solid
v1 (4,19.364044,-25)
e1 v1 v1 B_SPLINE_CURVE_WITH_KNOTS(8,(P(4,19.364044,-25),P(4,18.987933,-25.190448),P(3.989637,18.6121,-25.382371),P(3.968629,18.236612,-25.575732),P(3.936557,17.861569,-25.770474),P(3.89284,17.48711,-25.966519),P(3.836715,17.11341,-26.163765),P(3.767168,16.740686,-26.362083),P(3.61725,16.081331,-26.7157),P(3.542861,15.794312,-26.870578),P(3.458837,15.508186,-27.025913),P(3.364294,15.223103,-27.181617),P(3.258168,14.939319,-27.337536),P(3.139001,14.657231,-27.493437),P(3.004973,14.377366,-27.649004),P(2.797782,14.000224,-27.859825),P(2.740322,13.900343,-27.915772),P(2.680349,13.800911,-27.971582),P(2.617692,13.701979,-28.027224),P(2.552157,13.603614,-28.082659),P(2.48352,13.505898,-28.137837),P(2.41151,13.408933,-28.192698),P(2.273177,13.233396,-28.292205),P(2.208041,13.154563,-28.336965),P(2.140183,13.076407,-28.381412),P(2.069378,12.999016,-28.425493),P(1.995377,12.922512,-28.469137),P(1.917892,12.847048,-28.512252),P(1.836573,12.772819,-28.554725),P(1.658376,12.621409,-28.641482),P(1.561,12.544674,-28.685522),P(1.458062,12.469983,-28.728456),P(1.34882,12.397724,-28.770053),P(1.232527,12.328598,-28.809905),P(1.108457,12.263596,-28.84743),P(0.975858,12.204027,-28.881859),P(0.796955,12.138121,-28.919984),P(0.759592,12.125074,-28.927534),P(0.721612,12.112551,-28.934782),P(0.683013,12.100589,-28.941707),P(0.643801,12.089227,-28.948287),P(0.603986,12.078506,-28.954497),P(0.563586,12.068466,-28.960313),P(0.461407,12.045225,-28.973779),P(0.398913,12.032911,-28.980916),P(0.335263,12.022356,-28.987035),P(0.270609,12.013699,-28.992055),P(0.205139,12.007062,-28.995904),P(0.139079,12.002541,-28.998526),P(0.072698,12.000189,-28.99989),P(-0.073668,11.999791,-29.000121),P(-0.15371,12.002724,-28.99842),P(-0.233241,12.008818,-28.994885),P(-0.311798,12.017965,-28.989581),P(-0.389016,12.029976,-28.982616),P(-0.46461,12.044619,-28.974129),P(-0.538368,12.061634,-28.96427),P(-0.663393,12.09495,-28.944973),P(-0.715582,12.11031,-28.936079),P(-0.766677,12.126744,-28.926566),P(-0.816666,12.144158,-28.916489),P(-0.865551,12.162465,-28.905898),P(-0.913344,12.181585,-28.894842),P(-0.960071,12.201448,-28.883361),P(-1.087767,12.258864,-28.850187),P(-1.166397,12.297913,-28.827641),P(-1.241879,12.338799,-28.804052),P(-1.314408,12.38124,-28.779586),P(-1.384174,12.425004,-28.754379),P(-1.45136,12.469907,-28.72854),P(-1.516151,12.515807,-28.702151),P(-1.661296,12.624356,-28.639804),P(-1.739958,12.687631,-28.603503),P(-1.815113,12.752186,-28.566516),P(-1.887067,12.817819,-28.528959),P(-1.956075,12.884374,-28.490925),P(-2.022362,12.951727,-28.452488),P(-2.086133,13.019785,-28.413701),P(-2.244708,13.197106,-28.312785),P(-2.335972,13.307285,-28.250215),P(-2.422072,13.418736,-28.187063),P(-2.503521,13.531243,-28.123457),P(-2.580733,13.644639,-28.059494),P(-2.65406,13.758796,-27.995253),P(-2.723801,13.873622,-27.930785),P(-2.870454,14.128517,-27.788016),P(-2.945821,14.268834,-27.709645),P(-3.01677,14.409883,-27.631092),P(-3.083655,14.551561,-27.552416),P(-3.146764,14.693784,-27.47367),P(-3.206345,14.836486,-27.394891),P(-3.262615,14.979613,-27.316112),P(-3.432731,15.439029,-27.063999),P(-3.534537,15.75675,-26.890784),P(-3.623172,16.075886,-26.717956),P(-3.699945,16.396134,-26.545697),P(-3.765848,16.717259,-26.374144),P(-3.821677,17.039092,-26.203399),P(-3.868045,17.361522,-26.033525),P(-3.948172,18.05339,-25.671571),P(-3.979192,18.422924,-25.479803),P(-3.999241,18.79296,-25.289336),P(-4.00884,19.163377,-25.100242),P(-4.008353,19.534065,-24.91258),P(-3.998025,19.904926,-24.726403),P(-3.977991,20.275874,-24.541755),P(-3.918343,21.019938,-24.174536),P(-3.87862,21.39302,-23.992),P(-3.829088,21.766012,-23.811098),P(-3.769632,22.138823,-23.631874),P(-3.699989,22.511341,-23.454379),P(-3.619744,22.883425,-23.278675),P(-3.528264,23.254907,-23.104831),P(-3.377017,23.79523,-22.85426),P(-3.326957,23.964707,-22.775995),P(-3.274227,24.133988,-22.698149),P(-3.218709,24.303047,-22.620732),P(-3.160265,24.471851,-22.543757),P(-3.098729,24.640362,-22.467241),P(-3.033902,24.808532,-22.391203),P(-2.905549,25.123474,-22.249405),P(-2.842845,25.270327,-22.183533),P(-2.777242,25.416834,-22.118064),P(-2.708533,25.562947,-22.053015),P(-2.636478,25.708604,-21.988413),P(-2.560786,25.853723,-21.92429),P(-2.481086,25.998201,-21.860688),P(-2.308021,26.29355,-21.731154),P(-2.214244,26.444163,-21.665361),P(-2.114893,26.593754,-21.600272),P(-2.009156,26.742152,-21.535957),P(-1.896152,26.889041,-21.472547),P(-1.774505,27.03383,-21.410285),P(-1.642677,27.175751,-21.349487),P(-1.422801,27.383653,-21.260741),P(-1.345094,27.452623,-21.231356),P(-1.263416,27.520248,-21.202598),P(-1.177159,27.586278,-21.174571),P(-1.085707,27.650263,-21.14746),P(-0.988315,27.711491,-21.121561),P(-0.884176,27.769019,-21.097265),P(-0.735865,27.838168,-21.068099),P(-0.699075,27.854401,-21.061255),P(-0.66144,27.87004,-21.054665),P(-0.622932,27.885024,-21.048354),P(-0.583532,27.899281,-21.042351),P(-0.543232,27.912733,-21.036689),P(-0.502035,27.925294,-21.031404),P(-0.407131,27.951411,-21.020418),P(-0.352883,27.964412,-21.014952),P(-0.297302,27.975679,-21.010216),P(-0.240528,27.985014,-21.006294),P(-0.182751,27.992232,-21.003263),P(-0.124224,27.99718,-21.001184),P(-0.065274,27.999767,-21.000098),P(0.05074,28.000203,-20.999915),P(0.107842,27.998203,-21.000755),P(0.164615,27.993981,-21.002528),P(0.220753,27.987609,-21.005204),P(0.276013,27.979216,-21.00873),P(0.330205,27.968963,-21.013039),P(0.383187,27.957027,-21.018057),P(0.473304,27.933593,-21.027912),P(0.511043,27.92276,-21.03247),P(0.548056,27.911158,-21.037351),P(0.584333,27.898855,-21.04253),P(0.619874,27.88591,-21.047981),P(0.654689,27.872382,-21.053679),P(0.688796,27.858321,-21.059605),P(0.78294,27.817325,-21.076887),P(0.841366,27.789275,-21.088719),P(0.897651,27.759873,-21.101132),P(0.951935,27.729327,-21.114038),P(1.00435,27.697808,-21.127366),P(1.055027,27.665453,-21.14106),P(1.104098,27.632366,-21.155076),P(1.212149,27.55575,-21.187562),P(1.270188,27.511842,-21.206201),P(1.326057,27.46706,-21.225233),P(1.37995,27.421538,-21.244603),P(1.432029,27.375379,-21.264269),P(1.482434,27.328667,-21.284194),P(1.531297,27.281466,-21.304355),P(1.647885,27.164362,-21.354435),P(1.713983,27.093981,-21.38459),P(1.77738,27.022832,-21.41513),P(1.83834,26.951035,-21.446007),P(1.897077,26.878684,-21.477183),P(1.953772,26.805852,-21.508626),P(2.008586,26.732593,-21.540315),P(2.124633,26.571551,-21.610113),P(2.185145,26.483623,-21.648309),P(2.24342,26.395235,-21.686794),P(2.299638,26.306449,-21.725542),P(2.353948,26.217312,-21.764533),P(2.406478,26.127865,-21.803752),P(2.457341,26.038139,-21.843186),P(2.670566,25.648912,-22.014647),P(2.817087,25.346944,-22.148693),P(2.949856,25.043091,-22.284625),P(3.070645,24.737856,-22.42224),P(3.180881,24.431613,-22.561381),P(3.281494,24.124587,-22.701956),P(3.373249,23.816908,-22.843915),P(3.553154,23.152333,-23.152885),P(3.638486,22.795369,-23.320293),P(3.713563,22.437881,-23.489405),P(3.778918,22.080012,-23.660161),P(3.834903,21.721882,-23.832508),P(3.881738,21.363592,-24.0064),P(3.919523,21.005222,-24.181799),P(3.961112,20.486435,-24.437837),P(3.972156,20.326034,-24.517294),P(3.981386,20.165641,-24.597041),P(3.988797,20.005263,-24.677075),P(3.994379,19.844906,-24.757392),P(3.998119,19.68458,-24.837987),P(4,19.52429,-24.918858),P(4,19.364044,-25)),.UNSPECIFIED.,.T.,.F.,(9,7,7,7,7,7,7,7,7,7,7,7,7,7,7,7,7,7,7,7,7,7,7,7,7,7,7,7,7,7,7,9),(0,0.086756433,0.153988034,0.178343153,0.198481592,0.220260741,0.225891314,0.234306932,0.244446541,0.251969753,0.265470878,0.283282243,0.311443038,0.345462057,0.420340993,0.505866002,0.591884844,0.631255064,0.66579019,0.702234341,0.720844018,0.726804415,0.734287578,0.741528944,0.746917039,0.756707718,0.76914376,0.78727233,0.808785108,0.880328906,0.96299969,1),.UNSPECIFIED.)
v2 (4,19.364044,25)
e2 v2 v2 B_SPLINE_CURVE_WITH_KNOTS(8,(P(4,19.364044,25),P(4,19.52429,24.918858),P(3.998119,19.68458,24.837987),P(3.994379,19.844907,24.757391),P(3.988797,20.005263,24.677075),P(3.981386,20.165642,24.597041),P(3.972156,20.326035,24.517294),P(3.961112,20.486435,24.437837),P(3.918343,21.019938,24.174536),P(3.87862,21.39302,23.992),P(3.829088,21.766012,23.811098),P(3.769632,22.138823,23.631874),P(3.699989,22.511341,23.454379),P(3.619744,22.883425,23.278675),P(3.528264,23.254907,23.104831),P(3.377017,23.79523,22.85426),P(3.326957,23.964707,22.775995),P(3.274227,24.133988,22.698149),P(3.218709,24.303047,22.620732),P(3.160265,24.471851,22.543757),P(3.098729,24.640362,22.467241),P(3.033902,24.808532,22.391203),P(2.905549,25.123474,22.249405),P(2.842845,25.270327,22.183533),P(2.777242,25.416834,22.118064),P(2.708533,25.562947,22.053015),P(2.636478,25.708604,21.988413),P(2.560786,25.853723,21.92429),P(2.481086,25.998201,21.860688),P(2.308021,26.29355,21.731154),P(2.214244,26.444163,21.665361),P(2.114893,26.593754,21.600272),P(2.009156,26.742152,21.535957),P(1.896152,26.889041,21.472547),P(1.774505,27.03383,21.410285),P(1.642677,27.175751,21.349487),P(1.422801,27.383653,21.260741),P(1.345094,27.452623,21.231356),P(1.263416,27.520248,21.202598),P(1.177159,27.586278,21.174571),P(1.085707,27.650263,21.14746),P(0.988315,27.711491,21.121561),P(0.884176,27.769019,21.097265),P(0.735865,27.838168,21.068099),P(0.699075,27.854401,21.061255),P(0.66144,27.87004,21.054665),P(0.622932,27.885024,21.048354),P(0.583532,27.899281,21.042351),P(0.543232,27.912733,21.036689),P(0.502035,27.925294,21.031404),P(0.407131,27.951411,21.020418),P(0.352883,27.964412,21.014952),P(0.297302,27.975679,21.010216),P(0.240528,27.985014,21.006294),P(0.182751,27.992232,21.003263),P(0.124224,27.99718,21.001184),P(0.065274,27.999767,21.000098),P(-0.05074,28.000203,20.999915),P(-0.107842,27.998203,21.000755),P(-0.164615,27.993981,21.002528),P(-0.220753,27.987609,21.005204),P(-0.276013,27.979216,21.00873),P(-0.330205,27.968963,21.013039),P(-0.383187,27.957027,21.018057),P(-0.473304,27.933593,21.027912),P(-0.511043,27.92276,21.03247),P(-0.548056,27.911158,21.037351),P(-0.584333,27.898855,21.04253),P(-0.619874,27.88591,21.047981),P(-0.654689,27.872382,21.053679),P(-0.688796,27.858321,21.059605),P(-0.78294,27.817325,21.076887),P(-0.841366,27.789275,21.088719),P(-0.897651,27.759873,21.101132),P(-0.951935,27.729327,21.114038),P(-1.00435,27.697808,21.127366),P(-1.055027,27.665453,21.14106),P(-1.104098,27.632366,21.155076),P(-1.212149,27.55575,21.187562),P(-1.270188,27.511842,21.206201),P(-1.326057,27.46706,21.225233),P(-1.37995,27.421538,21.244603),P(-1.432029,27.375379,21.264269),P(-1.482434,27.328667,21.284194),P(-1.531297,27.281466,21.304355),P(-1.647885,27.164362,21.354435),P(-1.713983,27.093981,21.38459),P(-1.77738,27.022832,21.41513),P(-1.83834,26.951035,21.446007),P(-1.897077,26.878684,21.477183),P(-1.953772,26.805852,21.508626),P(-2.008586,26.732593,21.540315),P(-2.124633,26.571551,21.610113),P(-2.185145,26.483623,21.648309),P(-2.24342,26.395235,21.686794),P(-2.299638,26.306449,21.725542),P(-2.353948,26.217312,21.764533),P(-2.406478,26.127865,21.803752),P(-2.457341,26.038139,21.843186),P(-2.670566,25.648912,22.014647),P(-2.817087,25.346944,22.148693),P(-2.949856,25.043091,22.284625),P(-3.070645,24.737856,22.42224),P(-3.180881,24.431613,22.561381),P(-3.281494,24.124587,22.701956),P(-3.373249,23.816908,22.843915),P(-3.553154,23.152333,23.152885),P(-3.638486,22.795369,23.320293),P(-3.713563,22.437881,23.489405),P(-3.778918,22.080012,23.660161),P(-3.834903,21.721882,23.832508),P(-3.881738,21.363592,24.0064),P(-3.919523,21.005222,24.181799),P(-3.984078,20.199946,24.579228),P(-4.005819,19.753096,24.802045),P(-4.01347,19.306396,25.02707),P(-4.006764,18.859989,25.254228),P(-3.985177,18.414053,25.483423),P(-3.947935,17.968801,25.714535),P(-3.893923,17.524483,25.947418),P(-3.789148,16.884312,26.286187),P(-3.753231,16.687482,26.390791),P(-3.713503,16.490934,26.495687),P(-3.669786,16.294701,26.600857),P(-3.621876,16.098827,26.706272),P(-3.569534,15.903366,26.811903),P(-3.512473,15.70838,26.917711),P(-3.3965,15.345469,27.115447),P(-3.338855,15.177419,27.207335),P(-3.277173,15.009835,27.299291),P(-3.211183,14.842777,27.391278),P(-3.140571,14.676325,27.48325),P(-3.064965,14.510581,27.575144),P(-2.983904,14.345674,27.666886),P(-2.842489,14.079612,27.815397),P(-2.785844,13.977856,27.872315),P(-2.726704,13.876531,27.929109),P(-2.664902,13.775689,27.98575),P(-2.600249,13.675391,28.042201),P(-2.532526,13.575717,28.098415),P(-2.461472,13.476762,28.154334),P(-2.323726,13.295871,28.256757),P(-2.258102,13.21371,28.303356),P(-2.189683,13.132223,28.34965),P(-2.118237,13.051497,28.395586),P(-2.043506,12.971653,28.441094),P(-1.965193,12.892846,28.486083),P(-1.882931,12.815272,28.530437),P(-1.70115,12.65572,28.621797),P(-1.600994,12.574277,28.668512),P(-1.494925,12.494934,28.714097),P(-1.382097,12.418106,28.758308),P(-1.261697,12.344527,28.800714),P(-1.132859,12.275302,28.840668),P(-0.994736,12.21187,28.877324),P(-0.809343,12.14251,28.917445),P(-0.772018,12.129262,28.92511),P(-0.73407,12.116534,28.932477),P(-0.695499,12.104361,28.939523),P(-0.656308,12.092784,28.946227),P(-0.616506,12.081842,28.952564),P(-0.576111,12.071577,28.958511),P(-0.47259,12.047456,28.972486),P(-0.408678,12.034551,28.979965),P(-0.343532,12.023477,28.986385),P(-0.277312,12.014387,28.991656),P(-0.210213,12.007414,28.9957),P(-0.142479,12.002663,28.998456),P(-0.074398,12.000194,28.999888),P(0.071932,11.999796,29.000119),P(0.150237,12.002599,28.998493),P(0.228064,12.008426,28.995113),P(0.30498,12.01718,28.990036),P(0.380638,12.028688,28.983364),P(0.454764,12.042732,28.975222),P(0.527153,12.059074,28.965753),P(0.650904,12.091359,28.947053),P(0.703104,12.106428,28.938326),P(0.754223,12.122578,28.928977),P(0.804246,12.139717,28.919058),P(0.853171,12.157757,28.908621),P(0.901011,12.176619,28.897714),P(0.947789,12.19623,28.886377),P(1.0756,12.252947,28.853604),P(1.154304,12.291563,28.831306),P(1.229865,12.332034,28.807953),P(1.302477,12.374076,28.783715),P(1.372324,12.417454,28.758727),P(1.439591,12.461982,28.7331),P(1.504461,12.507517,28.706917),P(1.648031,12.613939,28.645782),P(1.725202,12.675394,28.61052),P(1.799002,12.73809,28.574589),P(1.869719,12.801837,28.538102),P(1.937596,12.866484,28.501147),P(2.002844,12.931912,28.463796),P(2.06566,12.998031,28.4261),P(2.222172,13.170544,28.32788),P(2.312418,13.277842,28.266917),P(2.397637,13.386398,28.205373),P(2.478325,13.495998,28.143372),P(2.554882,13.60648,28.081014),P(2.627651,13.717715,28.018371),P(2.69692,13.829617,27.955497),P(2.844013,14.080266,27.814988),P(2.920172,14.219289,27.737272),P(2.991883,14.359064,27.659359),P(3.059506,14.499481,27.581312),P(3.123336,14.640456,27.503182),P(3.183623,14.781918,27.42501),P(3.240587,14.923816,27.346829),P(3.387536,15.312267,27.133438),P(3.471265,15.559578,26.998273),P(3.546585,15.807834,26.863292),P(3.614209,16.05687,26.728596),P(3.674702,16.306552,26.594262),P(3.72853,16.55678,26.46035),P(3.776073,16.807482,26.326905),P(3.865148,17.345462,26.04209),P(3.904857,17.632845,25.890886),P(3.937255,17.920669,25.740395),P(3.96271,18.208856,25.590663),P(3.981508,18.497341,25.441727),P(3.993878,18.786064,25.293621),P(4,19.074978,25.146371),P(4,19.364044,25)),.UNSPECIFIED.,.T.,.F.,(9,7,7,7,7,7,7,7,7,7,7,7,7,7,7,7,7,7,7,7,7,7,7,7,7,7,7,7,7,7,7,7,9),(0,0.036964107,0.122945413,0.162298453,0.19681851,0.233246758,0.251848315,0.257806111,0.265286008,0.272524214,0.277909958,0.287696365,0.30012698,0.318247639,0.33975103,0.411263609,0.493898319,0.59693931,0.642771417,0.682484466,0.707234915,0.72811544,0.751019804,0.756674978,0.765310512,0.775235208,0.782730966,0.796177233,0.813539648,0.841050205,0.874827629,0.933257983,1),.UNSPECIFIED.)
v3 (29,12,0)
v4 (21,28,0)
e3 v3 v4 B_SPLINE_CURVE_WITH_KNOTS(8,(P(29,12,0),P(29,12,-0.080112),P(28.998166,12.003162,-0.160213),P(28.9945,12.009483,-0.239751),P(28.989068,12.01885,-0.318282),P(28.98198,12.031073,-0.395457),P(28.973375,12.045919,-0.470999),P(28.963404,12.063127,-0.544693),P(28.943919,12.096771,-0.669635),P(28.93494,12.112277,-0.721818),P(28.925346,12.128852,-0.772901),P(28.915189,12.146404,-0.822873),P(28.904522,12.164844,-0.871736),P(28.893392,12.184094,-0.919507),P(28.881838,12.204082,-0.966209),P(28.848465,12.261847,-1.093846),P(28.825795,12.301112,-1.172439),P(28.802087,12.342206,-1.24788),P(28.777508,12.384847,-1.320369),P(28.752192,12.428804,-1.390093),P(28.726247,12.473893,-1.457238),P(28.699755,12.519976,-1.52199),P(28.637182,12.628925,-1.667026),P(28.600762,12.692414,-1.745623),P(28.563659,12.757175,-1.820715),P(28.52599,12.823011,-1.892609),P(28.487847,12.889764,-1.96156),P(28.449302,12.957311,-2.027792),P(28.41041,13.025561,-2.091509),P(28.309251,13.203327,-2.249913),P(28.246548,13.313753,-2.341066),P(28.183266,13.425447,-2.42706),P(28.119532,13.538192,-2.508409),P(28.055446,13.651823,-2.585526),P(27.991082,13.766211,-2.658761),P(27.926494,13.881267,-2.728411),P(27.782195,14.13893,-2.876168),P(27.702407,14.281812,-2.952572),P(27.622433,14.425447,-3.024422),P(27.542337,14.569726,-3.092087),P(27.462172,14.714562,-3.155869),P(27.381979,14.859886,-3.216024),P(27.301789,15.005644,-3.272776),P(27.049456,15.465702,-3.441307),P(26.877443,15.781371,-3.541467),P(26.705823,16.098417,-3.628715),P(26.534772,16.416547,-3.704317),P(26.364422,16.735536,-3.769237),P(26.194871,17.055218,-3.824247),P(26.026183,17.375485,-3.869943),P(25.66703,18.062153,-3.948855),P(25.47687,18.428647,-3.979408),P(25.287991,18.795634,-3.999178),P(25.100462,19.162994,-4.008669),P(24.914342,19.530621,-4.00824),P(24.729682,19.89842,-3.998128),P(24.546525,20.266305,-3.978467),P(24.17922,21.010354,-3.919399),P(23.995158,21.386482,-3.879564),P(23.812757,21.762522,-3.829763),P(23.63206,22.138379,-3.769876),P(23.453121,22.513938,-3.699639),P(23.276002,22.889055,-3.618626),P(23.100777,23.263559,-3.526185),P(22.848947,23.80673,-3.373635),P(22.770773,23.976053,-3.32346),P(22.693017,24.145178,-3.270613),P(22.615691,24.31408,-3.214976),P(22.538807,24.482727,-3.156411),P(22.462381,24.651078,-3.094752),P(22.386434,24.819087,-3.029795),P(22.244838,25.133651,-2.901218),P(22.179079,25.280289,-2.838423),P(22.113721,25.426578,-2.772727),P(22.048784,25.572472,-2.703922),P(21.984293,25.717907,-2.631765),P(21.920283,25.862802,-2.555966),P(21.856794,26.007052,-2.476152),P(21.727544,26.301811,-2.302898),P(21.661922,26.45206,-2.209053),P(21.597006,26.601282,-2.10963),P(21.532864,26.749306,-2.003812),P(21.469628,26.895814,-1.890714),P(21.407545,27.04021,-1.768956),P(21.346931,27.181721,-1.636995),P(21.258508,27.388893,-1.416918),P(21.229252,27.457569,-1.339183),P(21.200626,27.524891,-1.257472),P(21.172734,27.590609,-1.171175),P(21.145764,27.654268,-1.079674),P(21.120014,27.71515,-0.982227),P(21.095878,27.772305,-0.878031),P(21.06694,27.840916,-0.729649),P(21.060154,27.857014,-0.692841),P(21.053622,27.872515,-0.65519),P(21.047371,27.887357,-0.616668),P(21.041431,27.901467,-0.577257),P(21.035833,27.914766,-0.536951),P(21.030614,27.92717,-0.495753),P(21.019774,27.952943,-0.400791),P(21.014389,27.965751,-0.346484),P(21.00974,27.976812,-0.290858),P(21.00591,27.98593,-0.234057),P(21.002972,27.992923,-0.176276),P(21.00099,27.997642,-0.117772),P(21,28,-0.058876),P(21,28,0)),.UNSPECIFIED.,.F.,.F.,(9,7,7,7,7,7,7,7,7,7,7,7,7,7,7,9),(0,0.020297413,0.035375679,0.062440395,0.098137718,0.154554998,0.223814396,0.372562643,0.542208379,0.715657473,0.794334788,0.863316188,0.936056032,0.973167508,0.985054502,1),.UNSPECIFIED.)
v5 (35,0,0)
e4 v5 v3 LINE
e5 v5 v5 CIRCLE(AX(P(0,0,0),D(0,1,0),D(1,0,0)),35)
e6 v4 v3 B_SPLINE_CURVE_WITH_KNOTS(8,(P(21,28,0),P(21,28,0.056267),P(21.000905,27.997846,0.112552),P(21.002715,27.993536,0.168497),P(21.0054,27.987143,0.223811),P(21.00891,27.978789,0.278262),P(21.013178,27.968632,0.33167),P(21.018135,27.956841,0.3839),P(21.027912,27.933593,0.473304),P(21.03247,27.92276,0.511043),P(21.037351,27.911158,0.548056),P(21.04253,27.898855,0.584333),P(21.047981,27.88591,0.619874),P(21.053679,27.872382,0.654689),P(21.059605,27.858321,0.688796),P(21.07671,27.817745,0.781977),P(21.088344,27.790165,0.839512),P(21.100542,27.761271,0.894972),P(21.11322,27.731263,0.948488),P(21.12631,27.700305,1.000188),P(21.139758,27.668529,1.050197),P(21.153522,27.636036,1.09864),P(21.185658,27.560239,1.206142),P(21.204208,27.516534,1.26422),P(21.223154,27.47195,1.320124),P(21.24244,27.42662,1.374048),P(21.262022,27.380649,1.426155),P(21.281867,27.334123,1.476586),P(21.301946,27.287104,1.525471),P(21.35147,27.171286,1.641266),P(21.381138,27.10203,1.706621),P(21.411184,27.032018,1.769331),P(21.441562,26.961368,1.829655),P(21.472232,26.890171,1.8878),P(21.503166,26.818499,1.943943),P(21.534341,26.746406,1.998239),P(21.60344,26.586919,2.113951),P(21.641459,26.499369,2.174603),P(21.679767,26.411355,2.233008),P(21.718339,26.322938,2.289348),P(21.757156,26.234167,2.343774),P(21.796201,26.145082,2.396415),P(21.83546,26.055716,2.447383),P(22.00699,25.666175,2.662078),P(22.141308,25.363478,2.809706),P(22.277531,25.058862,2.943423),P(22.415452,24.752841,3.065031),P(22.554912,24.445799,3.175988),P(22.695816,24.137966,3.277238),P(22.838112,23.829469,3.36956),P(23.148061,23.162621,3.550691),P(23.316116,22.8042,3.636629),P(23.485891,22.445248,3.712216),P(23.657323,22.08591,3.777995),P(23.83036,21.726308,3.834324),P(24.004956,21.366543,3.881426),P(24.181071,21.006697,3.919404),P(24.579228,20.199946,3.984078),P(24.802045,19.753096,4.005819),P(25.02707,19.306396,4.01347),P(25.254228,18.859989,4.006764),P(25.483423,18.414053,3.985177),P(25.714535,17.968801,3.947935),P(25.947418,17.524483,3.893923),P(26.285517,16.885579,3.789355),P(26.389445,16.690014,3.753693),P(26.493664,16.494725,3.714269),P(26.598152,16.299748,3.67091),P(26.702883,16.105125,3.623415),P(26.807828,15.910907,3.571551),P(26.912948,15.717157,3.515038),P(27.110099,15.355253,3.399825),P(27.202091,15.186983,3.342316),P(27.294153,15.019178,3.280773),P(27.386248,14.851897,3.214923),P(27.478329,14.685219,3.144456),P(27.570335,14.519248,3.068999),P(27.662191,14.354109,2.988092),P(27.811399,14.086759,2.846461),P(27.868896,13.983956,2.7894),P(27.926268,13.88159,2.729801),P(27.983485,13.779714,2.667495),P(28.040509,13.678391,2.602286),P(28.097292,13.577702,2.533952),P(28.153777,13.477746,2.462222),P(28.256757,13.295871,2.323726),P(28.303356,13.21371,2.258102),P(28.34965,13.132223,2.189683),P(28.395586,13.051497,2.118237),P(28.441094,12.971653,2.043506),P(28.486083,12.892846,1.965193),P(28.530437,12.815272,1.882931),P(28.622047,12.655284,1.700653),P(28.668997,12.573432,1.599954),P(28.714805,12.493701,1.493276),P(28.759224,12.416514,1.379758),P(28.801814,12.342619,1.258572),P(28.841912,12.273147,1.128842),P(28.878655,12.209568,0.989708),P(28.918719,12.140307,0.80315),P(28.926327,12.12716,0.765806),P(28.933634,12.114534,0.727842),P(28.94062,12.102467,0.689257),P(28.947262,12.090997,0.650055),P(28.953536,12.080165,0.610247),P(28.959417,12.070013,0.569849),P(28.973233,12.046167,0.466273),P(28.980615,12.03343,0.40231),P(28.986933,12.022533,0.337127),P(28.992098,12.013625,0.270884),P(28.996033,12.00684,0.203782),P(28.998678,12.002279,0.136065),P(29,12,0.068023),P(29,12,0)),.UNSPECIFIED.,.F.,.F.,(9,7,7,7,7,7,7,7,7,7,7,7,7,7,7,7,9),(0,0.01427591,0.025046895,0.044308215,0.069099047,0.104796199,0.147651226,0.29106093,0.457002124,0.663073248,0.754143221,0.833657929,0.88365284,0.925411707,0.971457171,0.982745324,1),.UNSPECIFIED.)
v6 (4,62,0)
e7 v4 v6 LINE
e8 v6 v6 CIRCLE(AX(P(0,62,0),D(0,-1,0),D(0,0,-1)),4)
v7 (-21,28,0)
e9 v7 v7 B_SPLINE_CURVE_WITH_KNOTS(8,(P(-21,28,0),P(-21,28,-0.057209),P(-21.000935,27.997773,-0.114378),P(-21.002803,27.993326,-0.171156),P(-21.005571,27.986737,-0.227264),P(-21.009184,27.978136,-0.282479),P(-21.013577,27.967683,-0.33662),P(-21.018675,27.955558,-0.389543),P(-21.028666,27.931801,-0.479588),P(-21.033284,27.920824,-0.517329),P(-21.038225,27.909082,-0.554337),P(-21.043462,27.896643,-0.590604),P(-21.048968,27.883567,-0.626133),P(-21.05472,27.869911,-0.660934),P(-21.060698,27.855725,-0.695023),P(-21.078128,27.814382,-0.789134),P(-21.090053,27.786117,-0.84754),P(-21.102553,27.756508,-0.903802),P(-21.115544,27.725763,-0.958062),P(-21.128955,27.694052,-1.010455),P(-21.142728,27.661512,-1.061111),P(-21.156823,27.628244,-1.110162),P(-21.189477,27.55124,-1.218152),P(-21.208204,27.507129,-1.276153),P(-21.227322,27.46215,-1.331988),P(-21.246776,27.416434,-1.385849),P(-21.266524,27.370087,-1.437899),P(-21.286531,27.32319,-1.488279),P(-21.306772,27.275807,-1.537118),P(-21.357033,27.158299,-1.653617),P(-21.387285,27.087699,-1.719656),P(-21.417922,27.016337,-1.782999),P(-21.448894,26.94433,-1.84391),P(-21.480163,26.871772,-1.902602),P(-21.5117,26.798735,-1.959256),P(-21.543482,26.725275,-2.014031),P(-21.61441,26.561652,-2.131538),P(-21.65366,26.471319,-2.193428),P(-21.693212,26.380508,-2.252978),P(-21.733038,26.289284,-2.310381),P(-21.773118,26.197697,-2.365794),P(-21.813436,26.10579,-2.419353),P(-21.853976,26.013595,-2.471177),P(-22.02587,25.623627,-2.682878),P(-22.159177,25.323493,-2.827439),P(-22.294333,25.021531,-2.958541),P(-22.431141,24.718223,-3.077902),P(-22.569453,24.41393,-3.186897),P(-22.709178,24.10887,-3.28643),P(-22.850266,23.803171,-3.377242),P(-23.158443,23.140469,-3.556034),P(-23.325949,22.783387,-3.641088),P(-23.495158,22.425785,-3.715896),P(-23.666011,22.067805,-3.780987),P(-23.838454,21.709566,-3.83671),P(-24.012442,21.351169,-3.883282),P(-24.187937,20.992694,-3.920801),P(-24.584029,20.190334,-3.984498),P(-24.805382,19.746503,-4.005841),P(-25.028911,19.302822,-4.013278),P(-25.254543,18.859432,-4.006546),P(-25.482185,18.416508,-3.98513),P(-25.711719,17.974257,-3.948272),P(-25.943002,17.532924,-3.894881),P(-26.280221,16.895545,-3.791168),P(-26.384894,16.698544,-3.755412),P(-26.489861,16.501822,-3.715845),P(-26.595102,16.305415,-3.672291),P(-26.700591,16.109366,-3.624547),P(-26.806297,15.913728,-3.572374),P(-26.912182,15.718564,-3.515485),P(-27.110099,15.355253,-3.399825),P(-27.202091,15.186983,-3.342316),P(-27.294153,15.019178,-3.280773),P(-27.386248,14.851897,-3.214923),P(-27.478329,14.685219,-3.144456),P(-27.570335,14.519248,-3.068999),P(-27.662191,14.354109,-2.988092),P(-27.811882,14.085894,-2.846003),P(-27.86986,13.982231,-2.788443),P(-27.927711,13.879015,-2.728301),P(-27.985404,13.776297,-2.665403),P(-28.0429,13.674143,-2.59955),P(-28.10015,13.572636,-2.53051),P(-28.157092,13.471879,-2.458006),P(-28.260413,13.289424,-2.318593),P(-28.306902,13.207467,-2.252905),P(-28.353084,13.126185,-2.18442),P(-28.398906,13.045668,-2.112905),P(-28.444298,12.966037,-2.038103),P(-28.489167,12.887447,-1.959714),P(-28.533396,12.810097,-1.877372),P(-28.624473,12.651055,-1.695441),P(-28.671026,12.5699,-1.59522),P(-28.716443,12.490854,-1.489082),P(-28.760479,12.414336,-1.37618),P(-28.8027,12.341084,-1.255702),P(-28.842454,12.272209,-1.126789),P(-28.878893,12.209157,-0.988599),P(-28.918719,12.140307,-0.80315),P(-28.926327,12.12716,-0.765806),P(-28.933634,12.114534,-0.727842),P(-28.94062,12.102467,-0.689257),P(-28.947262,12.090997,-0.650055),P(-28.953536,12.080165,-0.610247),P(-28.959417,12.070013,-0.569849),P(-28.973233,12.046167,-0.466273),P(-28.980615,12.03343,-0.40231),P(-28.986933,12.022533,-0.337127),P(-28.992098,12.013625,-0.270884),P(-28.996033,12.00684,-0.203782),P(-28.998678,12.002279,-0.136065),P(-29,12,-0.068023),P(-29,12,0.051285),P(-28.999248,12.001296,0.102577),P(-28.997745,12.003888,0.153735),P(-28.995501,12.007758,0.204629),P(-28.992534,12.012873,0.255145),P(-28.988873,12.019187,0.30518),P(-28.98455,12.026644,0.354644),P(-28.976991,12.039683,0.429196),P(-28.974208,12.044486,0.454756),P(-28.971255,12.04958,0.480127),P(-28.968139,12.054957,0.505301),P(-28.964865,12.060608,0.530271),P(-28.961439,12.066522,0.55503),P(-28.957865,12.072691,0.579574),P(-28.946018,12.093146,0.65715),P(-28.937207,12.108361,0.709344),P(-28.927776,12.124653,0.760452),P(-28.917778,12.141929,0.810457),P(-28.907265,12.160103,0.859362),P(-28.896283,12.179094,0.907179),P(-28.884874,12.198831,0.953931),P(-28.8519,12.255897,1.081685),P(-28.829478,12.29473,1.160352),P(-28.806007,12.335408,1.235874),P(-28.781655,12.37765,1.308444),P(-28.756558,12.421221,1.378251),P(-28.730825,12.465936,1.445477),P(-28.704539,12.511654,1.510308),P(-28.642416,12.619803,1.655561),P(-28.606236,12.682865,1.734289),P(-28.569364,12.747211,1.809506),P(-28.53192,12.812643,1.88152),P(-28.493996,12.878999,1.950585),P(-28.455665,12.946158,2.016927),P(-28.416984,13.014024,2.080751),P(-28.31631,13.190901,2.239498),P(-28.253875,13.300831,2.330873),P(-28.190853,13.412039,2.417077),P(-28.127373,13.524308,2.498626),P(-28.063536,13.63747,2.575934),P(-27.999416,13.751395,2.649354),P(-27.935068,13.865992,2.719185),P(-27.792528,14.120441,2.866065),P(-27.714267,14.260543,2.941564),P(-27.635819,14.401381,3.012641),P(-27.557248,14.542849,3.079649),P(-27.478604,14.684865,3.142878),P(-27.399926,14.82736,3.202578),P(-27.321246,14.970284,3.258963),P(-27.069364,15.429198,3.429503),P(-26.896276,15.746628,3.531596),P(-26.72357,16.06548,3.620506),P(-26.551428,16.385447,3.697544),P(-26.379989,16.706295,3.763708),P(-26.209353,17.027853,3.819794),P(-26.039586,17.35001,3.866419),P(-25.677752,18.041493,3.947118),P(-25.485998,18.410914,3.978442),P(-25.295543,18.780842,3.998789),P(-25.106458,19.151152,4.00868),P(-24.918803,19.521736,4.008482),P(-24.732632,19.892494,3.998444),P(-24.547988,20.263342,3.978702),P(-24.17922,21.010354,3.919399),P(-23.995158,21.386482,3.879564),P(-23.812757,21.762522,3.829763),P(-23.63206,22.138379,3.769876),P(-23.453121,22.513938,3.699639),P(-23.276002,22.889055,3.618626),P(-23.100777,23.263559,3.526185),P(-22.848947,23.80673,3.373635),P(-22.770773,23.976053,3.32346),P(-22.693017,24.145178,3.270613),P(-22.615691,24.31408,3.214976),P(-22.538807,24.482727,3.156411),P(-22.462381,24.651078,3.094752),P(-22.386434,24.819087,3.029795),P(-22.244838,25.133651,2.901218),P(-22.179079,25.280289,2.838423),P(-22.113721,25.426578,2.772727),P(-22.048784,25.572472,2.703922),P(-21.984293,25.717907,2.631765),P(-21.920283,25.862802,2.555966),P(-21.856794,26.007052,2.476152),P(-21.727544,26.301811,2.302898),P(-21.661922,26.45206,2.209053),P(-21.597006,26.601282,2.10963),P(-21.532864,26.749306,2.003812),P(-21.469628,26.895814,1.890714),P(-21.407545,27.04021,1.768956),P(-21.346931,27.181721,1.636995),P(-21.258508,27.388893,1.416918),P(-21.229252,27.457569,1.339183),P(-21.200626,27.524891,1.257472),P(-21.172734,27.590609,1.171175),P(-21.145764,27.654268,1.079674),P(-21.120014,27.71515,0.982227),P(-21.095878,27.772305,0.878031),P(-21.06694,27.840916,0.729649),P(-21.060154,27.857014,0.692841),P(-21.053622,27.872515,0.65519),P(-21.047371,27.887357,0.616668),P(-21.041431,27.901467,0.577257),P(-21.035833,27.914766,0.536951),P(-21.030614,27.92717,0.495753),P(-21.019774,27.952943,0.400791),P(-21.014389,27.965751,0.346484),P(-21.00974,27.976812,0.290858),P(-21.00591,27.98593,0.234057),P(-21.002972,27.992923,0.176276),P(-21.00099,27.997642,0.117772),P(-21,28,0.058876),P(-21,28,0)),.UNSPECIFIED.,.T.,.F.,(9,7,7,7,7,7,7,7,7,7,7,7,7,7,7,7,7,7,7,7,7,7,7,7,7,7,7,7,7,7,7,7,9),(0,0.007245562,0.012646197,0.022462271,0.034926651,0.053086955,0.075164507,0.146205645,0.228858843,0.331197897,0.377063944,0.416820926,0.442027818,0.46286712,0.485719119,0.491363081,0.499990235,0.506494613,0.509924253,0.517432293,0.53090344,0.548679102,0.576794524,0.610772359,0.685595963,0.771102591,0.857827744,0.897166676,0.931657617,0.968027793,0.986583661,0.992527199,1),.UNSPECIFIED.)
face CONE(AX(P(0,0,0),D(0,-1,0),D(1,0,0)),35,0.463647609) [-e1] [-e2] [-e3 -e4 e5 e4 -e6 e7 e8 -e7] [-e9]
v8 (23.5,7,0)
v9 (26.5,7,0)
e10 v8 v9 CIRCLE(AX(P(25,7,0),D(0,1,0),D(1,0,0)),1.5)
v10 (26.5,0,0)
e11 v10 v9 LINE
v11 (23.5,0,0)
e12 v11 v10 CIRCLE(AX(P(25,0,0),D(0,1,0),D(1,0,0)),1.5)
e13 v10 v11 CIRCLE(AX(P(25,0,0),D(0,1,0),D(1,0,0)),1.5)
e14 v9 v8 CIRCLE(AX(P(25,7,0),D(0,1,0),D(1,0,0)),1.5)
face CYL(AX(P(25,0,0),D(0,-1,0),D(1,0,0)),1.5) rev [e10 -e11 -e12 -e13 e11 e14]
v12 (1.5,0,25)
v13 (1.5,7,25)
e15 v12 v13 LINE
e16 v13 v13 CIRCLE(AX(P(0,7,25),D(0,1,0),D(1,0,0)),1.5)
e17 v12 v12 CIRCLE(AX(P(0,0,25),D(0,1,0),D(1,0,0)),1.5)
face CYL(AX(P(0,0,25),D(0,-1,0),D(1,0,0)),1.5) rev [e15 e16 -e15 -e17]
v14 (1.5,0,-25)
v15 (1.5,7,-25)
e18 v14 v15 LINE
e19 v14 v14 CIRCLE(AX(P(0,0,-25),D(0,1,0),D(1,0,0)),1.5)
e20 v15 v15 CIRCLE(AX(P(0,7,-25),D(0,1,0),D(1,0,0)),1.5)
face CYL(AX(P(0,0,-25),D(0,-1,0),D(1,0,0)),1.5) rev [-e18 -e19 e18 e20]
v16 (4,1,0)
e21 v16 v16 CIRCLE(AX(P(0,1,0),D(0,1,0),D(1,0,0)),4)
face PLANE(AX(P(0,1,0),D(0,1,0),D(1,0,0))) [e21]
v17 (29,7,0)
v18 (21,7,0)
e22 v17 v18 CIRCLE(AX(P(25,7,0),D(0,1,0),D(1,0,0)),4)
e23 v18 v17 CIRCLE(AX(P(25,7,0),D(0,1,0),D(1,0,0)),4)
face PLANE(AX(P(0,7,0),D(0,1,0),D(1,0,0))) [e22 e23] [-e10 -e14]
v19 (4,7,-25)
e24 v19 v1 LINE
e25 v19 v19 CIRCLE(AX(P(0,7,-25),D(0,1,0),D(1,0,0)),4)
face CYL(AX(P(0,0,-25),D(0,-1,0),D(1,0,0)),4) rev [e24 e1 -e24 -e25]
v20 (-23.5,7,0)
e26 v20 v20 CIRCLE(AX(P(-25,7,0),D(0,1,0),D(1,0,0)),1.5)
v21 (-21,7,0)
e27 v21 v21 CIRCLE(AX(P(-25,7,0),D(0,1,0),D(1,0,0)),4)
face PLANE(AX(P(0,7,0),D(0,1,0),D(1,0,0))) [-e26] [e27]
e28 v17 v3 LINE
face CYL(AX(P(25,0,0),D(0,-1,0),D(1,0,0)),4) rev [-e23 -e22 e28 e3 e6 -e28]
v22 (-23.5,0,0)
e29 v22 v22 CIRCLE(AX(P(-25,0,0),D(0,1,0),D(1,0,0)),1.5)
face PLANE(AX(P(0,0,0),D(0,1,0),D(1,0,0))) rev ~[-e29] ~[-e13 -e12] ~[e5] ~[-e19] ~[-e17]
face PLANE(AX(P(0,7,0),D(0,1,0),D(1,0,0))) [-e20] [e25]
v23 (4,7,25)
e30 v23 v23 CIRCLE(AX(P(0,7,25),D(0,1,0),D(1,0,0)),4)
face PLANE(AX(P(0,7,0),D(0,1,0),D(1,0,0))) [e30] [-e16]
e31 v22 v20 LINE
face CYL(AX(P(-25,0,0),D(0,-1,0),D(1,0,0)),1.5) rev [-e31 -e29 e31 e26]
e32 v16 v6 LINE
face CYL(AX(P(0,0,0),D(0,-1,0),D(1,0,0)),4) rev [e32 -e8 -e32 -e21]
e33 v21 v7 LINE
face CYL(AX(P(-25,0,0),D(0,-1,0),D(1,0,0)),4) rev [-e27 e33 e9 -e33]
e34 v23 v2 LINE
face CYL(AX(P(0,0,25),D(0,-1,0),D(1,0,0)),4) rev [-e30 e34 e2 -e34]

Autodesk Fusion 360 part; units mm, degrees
sketch "Sketch1" plane through (0, 0, 0) normal (0, 1, 0) x (1, 0, 0)
  circle A0 centre (0, 0) radius 35
  circle A1 centre (25, 0) radius 1.5
  line L0 (0, 0) -> (25, 0)
  circle A2 centre (0, 25) radius 1.5
  circle A3 centre (-25, 0) radius 1.5
  circle A4 centre (0, -25) radius 1.5
  circle A5 centre (0, 0) radius 4
  circle A6 centre (-25, 0) radius 4
  circle A7 centre (0, 25) radius 4
  circle A8 centre (25, 0) radius 4
  circle A9 centre (0, -25) radius 4
  dimension "d1" = 70
  dimension "d2" = 3
  dimension "d3" = 25
  dimension "d5" = 360
  dimension "d6" = 8
  dimension "d21" = 8
  dimension "d22" = 8
  dimension "d23" = 8
  dimension "d24" = 8
sketch "Sketch3" plane through (0, 0, 0) normal (0, 0, 1) x (1, 0, 0)
  line L0 (0, 0) -> (0, 70)
  line L1 (0, 0) -> (35, 0)
  line L2 (35, 0) -> (0, 70)
  dimension "d18" = 70
  dimension "d19" = 35
revolve "Revolve1" add sketch "Sketch3" angle 360 about axis through (0, 0, 0) along (0, 1, 0)
extrude "Extrude4" add sketch "Sketch1" along normal blind 7 contours A5
extrude "Extrude6" cut sketch "Sketch1" along normal blind 30 contours A1 | A8 | A2 | A3 | A4 | A6 | A7 | A9
extrude "Extrude7" add sketch "Sketch1" along normal blind 7 contours A8 | A6 | A7 | A9
extrude "Extrude8" cut sketch "Sketch1" along normal blind 70 contours A5
extrude "Extrude9" add sketch "Sketch1" along normal blind 1 contours A5
sketch "Sketch4" plane through (0, 0, 0) normal (0, 0, 1) x (1, 0, 0)
